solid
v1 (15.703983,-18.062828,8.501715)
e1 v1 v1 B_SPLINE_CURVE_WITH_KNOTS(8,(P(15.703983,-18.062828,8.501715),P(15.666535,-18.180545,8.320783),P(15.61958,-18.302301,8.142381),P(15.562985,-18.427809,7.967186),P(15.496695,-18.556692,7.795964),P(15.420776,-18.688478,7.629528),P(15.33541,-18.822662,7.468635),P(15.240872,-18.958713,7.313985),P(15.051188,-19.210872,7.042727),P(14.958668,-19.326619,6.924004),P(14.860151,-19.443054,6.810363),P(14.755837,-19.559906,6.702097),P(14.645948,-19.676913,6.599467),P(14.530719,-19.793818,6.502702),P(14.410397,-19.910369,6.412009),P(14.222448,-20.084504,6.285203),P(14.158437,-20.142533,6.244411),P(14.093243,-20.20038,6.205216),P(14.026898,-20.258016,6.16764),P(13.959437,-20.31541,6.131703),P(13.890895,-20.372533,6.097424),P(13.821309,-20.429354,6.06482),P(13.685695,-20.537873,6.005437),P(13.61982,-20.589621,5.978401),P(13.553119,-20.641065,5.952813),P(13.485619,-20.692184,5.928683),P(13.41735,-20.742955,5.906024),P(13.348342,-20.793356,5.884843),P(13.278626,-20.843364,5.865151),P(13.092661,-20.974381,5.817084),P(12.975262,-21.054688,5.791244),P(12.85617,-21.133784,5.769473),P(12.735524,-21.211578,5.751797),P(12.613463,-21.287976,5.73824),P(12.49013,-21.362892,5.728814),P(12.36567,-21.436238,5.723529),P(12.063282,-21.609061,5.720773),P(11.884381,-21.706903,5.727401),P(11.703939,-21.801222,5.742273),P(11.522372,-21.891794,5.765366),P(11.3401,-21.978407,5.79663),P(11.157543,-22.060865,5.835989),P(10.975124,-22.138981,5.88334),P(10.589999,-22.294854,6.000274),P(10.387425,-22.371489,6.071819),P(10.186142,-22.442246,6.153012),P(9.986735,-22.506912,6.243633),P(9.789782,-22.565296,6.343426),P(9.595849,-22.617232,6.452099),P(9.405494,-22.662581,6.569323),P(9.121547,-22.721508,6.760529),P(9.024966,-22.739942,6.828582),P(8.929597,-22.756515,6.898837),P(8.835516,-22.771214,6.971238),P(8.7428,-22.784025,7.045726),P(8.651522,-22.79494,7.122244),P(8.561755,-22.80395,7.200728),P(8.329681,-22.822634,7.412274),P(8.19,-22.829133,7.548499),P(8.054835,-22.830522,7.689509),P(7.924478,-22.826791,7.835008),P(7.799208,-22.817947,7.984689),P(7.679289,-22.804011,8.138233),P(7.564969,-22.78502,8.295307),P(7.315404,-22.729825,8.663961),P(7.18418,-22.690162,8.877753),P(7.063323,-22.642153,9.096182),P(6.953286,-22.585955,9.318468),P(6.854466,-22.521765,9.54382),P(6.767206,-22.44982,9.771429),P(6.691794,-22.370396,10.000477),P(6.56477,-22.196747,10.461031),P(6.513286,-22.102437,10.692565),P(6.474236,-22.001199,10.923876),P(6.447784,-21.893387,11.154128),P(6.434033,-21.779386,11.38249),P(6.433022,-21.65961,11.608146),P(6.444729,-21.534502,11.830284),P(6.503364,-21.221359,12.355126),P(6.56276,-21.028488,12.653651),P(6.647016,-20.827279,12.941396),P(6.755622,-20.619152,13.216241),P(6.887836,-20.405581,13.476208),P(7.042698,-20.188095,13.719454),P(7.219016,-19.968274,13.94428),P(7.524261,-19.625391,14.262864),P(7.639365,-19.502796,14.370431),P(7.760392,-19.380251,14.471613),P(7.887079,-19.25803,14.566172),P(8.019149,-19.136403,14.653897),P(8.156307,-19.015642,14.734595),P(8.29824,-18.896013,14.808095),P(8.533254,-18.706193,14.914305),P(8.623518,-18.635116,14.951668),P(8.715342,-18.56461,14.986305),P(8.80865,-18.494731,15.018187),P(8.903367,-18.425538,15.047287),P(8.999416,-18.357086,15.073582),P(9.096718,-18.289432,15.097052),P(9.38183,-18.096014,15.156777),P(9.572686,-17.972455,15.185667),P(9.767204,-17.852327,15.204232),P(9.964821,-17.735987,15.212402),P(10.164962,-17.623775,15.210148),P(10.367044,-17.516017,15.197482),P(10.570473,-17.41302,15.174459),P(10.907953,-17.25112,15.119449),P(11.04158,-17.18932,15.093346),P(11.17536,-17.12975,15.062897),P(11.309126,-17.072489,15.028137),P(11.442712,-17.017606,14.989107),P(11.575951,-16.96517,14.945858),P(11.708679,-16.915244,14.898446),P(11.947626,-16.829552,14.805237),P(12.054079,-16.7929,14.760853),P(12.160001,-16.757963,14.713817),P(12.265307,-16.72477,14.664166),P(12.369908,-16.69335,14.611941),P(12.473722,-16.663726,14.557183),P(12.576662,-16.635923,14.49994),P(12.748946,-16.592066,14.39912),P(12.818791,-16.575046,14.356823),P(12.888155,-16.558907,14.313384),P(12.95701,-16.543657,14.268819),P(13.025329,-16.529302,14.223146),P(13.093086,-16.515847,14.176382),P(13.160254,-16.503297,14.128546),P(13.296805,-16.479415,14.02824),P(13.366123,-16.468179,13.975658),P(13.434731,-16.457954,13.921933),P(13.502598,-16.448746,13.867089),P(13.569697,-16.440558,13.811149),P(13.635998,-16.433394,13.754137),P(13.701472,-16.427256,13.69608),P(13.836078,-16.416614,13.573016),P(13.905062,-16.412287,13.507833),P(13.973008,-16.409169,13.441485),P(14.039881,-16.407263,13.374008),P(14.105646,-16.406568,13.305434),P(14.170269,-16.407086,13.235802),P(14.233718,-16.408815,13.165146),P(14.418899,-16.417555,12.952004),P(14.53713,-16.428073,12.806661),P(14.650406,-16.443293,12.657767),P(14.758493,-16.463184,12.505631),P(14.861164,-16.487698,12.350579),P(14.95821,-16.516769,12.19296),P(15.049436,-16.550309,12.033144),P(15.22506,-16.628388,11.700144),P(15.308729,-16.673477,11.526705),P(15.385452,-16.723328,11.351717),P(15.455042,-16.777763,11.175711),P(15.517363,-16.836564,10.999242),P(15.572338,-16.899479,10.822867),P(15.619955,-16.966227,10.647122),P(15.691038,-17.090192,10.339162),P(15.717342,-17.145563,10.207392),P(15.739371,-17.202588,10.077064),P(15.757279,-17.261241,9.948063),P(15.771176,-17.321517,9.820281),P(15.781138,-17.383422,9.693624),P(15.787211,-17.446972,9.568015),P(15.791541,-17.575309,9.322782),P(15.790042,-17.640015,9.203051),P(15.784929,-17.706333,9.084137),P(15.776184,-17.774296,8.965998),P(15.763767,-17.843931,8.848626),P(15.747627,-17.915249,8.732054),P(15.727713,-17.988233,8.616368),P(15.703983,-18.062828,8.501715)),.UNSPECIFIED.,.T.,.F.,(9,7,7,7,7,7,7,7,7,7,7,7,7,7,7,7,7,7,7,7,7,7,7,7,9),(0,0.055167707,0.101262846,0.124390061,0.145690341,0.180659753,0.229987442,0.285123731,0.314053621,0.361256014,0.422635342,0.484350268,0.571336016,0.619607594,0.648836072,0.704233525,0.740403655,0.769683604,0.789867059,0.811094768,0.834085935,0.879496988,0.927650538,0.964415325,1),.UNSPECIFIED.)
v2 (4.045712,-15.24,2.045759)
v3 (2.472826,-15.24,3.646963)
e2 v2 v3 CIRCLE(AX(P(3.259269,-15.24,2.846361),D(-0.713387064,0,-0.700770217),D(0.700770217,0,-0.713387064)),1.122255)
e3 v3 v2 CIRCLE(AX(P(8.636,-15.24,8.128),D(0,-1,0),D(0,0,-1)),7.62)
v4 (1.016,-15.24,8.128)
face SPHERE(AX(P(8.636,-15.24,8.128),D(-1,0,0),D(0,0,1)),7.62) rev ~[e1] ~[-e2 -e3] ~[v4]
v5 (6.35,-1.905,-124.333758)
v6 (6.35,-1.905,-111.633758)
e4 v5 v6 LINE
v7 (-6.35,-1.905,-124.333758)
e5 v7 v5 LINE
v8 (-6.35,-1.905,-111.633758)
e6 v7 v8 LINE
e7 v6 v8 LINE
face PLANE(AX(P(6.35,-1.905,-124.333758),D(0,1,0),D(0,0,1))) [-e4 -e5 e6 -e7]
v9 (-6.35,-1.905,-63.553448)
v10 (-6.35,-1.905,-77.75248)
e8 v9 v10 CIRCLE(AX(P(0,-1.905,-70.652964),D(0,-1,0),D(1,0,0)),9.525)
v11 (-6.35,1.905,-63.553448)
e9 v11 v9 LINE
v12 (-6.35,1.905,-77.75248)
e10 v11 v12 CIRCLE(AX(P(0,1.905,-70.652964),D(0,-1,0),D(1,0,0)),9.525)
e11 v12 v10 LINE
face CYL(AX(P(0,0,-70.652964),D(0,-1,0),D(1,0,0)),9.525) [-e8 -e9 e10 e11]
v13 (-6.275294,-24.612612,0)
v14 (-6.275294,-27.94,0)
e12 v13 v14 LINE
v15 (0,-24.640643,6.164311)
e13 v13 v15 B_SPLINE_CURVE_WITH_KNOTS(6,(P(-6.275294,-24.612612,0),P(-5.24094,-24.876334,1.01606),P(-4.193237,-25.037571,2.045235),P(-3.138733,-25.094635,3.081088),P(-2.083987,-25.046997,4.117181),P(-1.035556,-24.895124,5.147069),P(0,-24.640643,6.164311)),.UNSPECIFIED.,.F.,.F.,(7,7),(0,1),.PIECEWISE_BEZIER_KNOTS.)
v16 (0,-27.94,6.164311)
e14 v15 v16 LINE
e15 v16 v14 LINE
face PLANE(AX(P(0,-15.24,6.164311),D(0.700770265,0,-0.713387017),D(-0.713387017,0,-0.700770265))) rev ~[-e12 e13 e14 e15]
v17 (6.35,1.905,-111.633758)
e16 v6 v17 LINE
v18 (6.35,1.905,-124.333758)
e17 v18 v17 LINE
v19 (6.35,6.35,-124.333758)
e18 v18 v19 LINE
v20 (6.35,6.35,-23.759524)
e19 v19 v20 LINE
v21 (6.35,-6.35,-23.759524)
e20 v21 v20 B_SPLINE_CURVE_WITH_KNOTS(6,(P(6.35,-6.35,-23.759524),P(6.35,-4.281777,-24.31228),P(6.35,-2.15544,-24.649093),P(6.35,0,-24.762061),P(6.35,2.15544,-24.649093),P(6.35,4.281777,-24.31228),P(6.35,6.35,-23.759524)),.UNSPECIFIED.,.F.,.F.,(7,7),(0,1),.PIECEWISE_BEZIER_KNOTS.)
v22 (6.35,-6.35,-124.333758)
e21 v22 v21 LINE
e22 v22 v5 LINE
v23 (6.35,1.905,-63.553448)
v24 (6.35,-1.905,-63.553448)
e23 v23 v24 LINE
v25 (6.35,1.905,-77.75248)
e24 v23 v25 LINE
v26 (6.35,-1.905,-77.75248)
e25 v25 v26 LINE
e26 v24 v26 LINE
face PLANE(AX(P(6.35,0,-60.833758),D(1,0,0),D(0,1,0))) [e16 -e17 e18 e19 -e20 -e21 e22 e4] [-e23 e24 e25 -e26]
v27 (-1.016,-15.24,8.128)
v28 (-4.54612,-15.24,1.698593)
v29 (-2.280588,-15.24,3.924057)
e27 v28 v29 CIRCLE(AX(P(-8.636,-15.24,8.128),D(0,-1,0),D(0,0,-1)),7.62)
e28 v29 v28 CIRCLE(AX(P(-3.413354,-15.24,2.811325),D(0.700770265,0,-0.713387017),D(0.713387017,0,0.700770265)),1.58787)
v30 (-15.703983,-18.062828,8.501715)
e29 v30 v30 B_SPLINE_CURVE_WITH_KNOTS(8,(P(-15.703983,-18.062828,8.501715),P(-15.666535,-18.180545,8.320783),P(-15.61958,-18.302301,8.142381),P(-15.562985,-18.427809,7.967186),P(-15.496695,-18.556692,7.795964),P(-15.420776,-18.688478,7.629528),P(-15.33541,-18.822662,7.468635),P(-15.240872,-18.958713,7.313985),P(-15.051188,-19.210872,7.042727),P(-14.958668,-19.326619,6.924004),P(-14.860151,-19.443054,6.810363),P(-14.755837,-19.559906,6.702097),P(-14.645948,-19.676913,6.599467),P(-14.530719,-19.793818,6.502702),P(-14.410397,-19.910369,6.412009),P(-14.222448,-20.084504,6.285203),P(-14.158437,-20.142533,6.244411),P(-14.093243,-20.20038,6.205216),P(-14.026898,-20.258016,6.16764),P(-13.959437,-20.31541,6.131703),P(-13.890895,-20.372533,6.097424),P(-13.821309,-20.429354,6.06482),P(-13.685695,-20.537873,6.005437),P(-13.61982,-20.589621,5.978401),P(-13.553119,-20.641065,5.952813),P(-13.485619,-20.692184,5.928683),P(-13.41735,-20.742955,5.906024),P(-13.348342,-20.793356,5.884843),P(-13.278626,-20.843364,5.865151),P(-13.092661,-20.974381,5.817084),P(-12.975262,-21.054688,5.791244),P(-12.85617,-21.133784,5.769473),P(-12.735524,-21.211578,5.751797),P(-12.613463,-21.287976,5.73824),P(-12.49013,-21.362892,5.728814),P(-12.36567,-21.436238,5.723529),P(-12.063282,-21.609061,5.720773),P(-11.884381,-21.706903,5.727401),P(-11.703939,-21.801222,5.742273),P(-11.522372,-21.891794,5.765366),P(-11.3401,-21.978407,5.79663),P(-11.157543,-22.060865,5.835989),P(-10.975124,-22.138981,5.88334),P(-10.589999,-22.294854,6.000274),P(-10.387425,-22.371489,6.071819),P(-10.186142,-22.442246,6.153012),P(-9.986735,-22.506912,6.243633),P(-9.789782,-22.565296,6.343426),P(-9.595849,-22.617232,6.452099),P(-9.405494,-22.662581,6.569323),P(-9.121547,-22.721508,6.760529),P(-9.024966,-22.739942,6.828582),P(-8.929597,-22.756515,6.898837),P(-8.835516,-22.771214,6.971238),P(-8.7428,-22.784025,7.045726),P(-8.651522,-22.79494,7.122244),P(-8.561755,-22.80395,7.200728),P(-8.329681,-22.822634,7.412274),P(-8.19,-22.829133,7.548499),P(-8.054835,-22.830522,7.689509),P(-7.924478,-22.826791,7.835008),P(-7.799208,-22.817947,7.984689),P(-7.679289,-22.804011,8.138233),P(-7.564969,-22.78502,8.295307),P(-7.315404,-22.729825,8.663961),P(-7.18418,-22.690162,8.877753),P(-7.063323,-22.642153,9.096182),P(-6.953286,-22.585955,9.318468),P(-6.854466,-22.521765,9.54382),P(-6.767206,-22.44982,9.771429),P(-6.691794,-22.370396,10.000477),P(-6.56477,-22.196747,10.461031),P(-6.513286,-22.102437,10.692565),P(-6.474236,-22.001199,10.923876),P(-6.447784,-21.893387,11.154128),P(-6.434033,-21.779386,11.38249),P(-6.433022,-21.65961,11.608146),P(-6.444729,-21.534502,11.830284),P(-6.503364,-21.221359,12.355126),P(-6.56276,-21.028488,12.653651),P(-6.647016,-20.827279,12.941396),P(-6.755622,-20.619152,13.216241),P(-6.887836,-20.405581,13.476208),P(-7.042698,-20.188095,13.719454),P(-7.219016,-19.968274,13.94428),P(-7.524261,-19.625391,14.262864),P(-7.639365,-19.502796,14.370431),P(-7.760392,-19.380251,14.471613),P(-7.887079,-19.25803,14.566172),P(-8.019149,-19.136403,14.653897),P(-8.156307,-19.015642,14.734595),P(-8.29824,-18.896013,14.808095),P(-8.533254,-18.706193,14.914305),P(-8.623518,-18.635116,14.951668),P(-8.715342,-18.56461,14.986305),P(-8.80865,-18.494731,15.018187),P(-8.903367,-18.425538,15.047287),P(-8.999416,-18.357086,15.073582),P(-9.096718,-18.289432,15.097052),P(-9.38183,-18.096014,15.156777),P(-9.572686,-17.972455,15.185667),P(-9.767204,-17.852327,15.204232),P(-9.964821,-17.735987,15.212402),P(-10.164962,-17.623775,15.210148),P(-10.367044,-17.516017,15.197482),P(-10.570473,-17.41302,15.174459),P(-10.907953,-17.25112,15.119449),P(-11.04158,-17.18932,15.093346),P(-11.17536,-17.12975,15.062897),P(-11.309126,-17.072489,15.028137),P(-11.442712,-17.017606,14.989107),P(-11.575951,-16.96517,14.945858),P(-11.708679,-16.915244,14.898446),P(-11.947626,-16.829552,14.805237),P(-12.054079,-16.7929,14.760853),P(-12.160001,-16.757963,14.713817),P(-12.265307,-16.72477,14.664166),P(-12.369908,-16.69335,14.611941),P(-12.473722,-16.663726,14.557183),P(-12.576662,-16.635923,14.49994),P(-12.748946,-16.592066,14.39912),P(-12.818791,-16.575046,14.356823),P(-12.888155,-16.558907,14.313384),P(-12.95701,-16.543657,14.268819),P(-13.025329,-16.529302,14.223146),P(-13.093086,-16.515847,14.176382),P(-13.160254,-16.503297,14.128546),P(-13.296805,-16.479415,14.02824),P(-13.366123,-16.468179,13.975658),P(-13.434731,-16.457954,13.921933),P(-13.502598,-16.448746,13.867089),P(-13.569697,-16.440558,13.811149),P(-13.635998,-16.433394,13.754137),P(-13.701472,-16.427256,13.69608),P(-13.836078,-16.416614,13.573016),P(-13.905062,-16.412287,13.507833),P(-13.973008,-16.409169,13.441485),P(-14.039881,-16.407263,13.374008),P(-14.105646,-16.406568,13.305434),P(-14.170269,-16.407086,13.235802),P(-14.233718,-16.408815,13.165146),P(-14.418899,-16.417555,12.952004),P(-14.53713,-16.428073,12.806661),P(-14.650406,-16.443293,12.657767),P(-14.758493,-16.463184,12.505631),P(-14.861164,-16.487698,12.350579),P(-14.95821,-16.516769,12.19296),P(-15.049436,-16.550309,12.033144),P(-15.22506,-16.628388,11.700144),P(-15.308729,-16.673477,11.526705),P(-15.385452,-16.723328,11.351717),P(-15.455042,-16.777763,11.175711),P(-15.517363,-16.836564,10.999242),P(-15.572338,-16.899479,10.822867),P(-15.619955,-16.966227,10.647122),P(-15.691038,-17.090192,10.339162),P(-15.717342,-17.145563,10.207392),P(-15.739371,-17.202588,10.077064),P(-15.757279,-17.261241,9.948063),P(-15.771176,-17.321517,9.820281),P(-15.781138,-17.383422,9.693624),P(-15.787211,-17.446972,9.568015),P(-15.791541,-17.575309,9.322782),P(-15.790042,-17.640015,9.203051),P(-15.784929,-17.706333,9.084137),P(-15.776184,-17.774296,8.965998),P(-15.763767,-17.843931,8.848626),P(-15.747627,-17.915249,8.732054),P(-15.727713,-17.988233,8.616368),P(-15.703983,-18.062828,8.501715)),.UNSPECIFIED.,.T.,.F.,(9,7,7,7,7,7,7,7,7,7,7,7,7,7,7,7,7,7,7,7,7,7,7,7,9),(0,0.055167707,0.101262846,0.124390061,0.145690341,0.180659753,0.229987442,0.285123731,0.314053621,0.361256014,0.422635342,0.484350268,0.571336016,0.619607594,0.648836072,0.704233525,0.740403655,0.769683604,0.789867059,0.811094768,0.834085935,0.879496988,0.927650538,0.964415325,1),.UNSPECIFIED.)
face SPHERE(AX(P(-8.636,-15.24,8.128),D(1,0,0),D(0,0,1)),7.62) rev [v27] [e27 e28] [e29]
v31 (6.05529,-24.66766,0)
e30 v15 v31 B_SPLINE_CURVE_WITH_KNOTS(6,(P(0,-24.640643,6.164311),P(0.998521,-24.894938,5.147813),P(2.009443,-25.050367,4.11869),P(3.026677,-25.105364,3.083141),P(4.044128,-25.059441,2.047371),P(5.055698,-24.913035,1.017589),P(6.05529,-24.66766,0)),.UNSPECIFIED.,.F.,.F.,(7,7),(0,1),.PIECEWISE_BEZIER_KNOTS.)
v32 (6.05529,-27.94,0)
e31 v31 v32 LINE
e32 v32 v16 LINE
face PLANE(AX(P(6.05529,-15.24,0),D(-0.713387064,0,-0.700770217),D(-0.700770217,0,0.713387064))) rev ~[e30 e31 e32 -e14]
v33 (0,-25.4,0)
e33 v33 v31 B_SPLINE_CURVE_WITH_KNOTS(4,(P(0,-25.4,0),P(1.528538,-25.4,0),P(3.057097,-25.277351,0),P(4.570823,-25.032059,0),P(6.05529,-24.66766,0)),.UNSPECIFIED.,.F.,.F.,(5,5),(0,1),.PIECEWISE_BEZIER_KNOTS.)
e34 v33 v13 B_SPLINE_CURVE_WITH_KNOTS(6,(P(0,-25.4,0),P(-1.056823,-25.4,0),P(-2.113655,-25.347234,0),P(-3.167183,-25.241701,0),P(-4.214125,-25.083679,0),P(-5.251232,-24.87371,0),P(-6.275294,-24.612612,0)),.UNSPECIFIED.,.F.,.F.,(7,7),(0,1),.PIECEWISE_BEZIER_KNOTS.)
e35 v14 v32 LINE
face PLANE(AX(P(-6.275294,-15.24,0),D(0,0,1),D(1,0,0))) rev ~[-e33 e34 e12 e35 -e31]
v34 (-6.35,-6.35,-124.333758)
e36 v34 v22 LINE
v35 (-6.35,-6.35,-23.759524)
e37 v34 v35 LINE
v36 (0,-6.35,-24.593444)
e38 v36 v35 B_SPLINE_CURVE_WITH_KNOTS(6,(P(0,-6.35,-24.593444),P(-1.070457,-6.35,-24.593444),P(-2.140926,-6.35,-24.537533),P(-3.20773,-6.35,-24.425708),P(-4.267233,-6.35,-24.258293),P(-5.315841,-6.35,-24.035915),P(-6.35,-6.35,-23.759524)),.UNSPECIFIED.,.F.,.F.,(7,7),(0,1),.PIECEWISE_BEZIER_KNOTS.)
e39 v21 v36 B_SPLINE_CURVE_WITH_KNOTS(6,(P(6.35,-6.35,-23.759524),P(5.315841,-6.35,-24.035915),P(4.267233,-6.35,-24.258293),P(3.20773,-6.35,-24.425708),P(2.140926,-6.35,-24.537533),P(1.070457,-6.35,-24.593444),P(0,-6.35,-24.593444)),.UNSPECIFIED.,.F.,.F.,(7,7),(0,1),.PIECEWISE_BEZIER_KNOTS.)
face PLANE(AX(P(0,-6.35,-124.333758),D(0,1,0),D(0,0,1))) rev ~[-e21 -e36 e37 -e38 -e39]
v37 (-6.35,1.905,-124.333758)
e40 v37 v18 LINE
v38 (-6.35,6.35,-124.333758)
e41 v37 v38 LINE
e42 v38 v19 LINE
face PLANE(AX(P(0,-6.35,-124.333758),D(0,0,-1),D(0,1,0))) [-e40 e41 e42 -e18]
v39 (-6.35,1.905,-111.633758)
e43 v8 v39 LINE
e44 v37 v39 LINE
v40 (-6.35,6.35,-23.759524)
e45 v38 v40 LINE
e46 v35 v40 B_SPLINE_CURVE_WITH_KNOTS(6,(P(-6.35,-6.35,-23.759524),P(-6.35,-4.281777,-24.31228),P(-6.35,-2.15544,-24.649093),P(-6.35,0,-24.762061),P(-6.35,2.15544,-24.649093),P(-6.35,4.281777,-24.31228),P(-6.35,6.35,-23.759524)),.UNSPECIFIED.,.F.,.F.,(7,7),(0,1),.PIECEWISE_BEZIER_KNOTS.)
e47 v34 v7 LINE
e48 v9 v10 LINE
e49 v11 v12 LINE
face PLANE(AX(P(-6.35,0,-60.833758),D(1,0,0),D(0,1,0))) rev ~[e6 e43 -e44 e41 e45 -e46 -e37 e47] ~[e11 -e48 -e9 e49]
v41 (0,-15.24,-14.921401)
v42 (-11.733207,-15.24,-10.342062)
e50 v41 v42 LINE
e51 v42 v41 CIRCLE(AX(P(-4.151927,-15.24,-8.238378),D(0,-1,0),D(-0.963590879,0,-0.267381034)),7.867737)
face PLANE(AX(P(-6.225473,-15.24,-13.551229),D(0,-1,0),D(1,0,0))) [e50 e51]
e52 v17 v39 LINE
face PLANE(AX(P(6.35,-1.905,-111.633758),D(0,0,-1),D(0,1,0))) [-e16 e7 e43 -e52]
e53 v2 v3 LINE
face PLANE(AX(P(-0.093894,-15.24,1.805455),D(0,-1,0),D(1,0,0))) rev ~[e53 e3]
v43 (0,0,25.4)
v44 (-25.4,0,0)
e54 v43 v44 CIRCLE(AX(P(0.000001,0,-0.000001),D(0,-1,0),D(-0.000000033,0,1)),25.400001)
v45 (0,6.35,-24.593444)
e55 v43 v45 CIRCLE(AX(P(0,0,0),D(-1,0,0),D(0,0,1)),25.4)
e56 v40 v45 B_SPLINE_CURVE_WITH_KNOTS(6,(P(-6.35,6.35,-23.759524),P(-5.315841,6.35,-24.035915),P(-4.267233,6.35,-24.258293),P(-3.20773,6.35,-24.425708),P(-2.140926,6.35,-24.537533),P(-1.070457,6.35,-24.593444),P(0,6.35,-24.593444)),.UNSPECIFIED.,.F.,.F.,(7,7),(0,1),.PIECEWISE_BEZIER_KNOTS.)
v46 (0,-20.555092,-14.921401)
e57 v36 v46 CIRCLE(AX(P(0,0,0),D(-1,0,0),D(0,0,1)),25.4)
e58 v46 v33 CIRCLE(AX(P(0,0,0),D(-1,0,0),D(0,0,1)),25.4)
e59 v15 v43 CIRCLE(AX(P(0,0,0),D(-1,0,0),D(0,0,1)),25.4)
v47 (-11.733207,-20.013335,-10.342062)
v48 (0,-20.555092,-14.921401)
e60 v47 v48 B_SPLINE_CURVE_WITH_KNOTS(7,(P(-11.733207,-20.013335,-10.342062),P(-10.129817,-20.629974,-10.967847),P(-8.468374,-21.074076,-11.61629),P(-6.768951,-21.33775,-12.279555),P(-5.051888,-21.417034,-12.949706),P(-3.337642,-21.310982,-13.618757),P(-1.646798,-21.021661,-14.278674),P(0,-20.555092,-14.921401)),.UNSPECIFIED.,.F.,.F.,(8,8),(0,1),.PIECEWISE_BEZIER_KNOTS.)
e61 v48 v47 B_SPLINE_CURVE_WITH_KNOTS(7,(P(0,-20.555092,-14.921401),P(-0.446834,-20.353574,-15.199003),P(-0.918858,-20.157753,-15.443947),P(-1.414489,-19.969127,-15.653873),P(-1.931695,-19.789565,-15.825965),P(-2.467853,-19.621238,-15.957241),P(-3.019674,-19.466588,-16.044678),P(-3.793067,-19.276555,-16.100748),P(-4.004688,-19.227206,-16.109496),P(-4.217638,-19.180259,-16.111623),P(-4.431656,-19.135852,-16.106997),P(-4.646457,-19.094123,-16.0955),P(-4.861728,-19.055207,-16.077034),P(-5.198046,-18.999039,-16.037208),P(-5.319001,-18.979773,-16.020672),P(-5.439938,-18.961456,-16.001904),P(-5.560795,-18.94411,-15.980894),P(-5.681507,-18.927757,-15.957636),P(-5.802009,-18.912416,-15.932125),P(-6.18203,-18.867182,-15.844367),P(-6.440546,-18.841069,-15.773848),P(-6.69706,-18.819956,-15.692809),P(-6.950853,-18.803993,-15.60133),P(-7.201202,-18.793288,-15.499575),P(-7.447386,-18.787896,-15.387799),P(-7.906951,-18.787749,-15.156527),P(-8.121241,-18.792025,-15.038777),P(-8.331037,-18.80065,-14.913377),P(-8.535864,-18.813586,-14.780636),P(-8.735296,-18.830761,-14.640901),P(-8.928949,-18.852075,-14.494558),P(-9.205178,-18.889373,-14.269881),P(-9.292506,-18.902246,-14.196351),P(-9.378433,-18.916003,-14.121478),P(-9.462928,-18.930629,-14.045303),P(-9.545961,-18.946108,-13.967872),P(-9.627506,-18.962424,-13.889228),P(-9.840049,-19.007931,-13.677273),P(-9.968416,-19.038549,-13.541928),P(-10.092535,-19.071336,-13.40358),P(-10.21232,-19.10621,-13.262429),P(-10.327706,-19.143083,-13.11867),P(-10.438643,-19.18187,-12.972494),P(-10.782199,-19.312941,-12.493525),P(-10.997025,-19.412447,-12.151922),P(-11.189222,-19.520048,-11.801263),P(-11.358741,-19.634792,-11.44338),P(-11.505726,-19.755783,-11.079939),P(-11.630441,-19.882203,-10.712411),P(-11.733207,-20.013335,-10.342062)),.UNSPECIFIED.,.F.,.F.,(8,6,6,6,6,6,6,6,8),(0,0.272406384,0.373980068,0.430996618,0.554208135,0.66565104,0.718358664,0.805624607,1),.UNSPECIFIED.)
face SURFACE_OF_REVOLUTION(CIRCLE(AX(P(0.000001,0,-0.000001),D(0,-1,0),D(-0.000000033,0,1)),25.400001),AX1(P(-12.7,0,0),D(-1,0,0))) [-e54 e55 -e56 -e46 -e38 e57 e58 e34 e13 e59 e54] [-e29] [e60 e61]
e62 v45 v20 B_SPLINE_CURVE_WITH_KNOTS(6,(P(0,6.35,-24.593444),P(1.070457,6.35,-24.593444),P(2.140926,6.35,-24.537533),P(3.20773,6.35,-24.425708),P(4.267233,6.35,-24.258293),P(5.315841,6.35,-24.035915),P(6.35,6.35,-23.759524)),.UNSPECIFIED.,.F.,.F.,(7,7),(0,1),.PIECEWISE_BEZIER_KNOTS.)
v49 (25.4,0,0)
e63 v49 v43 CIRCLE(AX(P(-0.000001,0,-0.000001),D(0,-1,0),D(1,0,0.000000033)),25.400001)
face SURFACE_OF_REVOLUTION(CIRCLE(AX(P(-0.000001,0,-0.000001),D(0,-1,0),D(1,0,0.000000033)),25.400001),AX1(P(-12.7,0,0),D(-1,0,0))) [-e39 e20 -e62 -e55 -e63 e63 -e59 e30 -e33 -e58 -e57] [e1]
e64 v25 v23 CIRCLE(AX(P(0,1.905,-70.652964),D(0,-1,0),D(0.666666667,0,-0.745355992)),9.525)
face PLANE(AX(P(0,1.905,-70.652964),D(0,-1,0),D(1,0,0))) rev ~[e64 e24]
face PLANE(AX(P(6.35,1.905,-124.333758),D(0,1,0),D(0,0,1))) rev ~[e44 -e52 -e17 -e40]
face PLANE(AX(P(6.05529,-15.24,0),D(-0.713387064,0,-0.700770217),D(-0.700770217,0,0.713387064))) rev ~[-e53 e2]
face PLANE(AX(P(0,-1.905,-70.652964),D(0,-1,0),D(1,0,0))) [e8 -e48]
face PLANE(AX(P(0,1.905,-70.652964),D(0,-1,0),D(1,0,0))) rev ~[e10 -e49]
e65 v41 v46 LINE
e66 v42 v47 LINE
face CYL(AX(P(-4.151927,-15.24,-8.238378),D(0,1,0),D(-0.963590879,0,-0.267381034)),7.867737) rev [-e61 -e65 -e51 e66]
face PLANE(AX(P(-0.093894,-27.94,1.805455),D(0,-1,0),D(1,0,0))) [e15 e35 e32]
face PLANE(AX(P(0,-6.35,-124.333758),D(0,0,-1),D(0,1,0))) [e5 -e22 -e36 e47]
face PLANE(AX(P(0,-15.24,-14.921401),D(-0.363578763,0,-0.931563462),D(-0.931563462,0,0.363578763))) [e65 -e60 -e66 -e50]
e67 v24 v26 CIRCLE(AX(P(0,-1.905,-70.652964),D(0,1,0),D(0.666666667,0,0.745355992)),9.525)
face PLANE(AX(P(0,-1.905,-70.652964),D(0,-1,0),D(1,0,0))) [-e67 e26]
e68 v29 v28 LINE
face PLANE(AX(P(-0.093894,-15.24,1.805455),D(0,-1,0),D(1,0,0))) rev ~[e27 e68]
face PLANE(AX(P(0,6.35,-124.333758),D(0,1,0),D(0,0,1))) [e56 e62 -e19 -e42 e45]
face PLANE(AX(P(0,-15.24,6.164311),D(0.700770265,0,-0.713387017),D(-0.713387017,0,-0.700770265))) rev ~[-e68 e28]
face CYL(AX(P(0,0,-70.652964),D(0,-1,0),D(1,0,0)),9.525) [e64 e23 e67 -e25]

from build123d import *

# Parameters (mm, degrees)
F8_DEPTH  = 12.7
F10_DEPTH = 38.1
F11_W     = 12.7
F11_H     = 127
F12_DEPTH = 6.35
F13_W     = 3.81
F13_H     = 12.7
F14_DEPTH = 12.7
F15_R     = 9.525
F16_DEPTH = 1.905


with BuildPart() as f1:
    # F0 (on Front) → F1 (revolve)
    with BuildSketch(Plane.XZ):
        with BuildLine():
            Line((-25.4, 0), (0, 0))
            Line((0, 0), (25.4, 0))
            ThreePointArc((25.4, 0), (17.960512, 17.960512), (0, 25.4))
            ThreePointArc((0, 25.4), (-17.960512, 17.960512), (-25.4, 0))
        make_face()
    revolve(axis=Axis((-12.7, 0, 0), (-1, 0, 0)))

    # F4 (on plane+point) → F5 (revolve, cut)
    with BuildSketch(Plane.XZ.offset(15.24)):
        with BuildLine():
            Line((1.016, 8.128), (16.256, 8.128))
            ThreePointArc((16.256, 8.128), (8.636, 15.748), (1.016, 8.128))
        make_face()
    revolve(axis=Axis((8.636, -15.24, 8.128), (-1, 0, 0)), mode=Mode.SUBTRACT)

    # F6: F1 across plane


with BuildPart() as f1_1:
    add(f1.part)
    add(f1.part.mirror(Plane.YZ), mode=Mode.INTERSECT)

    # F7 (on plane+point) → F8 (join)
    with BuildSketch(Plane.XZ.offset(15.24)):
        Polygon((0, 6.164311), (-6.275294, 0), (6.05529, 0), align=None)
    extrude(amount=F8_DEPTH)

    # F9 (on plane+point) → F10 (cut)
    with BuildSketch(Plane.XZ.offset(15.24)):
        with BuildLine():
            Line((0, -14.921401), (-11.733207, -10.342062))
            ThreePointArc((-11.733207, -10.342062), (-7.012469, -15.567675), (0, -14.921401))
        make_face()
    extrude(amount=F10_DEPTH, mode=Mode.SUBTRACT)

    # F11 (on Right) → F12 (join, symmetric)
    with BuildSketch(Plane.YZ):
        with Locations((0, -60.833758)):
            Rectangle(F11_W, F11_H)
    extrude(amount=F12_DEPTH, both=True)

    # F13 (on face) → F14 (cut, symmetric)
    with BuildSketch(Plane.YZ.offset(6.35)):
        with Locations((0, -117.983758)):
            Rectangle(F13_W, F13_H)
    extrude(amount=F14_DEPTH, both=True, mode=Mode.SUBTRACT)

    # F15 (on Front) → F16 (join, symmetric)
    with BuildSketch(Plane.XZ):
        with Locations((0, -70.652964)):
            Circle(F15_R)
    extrude(amount=F16_DEPTH, both=True)


solid = f1_1.part
